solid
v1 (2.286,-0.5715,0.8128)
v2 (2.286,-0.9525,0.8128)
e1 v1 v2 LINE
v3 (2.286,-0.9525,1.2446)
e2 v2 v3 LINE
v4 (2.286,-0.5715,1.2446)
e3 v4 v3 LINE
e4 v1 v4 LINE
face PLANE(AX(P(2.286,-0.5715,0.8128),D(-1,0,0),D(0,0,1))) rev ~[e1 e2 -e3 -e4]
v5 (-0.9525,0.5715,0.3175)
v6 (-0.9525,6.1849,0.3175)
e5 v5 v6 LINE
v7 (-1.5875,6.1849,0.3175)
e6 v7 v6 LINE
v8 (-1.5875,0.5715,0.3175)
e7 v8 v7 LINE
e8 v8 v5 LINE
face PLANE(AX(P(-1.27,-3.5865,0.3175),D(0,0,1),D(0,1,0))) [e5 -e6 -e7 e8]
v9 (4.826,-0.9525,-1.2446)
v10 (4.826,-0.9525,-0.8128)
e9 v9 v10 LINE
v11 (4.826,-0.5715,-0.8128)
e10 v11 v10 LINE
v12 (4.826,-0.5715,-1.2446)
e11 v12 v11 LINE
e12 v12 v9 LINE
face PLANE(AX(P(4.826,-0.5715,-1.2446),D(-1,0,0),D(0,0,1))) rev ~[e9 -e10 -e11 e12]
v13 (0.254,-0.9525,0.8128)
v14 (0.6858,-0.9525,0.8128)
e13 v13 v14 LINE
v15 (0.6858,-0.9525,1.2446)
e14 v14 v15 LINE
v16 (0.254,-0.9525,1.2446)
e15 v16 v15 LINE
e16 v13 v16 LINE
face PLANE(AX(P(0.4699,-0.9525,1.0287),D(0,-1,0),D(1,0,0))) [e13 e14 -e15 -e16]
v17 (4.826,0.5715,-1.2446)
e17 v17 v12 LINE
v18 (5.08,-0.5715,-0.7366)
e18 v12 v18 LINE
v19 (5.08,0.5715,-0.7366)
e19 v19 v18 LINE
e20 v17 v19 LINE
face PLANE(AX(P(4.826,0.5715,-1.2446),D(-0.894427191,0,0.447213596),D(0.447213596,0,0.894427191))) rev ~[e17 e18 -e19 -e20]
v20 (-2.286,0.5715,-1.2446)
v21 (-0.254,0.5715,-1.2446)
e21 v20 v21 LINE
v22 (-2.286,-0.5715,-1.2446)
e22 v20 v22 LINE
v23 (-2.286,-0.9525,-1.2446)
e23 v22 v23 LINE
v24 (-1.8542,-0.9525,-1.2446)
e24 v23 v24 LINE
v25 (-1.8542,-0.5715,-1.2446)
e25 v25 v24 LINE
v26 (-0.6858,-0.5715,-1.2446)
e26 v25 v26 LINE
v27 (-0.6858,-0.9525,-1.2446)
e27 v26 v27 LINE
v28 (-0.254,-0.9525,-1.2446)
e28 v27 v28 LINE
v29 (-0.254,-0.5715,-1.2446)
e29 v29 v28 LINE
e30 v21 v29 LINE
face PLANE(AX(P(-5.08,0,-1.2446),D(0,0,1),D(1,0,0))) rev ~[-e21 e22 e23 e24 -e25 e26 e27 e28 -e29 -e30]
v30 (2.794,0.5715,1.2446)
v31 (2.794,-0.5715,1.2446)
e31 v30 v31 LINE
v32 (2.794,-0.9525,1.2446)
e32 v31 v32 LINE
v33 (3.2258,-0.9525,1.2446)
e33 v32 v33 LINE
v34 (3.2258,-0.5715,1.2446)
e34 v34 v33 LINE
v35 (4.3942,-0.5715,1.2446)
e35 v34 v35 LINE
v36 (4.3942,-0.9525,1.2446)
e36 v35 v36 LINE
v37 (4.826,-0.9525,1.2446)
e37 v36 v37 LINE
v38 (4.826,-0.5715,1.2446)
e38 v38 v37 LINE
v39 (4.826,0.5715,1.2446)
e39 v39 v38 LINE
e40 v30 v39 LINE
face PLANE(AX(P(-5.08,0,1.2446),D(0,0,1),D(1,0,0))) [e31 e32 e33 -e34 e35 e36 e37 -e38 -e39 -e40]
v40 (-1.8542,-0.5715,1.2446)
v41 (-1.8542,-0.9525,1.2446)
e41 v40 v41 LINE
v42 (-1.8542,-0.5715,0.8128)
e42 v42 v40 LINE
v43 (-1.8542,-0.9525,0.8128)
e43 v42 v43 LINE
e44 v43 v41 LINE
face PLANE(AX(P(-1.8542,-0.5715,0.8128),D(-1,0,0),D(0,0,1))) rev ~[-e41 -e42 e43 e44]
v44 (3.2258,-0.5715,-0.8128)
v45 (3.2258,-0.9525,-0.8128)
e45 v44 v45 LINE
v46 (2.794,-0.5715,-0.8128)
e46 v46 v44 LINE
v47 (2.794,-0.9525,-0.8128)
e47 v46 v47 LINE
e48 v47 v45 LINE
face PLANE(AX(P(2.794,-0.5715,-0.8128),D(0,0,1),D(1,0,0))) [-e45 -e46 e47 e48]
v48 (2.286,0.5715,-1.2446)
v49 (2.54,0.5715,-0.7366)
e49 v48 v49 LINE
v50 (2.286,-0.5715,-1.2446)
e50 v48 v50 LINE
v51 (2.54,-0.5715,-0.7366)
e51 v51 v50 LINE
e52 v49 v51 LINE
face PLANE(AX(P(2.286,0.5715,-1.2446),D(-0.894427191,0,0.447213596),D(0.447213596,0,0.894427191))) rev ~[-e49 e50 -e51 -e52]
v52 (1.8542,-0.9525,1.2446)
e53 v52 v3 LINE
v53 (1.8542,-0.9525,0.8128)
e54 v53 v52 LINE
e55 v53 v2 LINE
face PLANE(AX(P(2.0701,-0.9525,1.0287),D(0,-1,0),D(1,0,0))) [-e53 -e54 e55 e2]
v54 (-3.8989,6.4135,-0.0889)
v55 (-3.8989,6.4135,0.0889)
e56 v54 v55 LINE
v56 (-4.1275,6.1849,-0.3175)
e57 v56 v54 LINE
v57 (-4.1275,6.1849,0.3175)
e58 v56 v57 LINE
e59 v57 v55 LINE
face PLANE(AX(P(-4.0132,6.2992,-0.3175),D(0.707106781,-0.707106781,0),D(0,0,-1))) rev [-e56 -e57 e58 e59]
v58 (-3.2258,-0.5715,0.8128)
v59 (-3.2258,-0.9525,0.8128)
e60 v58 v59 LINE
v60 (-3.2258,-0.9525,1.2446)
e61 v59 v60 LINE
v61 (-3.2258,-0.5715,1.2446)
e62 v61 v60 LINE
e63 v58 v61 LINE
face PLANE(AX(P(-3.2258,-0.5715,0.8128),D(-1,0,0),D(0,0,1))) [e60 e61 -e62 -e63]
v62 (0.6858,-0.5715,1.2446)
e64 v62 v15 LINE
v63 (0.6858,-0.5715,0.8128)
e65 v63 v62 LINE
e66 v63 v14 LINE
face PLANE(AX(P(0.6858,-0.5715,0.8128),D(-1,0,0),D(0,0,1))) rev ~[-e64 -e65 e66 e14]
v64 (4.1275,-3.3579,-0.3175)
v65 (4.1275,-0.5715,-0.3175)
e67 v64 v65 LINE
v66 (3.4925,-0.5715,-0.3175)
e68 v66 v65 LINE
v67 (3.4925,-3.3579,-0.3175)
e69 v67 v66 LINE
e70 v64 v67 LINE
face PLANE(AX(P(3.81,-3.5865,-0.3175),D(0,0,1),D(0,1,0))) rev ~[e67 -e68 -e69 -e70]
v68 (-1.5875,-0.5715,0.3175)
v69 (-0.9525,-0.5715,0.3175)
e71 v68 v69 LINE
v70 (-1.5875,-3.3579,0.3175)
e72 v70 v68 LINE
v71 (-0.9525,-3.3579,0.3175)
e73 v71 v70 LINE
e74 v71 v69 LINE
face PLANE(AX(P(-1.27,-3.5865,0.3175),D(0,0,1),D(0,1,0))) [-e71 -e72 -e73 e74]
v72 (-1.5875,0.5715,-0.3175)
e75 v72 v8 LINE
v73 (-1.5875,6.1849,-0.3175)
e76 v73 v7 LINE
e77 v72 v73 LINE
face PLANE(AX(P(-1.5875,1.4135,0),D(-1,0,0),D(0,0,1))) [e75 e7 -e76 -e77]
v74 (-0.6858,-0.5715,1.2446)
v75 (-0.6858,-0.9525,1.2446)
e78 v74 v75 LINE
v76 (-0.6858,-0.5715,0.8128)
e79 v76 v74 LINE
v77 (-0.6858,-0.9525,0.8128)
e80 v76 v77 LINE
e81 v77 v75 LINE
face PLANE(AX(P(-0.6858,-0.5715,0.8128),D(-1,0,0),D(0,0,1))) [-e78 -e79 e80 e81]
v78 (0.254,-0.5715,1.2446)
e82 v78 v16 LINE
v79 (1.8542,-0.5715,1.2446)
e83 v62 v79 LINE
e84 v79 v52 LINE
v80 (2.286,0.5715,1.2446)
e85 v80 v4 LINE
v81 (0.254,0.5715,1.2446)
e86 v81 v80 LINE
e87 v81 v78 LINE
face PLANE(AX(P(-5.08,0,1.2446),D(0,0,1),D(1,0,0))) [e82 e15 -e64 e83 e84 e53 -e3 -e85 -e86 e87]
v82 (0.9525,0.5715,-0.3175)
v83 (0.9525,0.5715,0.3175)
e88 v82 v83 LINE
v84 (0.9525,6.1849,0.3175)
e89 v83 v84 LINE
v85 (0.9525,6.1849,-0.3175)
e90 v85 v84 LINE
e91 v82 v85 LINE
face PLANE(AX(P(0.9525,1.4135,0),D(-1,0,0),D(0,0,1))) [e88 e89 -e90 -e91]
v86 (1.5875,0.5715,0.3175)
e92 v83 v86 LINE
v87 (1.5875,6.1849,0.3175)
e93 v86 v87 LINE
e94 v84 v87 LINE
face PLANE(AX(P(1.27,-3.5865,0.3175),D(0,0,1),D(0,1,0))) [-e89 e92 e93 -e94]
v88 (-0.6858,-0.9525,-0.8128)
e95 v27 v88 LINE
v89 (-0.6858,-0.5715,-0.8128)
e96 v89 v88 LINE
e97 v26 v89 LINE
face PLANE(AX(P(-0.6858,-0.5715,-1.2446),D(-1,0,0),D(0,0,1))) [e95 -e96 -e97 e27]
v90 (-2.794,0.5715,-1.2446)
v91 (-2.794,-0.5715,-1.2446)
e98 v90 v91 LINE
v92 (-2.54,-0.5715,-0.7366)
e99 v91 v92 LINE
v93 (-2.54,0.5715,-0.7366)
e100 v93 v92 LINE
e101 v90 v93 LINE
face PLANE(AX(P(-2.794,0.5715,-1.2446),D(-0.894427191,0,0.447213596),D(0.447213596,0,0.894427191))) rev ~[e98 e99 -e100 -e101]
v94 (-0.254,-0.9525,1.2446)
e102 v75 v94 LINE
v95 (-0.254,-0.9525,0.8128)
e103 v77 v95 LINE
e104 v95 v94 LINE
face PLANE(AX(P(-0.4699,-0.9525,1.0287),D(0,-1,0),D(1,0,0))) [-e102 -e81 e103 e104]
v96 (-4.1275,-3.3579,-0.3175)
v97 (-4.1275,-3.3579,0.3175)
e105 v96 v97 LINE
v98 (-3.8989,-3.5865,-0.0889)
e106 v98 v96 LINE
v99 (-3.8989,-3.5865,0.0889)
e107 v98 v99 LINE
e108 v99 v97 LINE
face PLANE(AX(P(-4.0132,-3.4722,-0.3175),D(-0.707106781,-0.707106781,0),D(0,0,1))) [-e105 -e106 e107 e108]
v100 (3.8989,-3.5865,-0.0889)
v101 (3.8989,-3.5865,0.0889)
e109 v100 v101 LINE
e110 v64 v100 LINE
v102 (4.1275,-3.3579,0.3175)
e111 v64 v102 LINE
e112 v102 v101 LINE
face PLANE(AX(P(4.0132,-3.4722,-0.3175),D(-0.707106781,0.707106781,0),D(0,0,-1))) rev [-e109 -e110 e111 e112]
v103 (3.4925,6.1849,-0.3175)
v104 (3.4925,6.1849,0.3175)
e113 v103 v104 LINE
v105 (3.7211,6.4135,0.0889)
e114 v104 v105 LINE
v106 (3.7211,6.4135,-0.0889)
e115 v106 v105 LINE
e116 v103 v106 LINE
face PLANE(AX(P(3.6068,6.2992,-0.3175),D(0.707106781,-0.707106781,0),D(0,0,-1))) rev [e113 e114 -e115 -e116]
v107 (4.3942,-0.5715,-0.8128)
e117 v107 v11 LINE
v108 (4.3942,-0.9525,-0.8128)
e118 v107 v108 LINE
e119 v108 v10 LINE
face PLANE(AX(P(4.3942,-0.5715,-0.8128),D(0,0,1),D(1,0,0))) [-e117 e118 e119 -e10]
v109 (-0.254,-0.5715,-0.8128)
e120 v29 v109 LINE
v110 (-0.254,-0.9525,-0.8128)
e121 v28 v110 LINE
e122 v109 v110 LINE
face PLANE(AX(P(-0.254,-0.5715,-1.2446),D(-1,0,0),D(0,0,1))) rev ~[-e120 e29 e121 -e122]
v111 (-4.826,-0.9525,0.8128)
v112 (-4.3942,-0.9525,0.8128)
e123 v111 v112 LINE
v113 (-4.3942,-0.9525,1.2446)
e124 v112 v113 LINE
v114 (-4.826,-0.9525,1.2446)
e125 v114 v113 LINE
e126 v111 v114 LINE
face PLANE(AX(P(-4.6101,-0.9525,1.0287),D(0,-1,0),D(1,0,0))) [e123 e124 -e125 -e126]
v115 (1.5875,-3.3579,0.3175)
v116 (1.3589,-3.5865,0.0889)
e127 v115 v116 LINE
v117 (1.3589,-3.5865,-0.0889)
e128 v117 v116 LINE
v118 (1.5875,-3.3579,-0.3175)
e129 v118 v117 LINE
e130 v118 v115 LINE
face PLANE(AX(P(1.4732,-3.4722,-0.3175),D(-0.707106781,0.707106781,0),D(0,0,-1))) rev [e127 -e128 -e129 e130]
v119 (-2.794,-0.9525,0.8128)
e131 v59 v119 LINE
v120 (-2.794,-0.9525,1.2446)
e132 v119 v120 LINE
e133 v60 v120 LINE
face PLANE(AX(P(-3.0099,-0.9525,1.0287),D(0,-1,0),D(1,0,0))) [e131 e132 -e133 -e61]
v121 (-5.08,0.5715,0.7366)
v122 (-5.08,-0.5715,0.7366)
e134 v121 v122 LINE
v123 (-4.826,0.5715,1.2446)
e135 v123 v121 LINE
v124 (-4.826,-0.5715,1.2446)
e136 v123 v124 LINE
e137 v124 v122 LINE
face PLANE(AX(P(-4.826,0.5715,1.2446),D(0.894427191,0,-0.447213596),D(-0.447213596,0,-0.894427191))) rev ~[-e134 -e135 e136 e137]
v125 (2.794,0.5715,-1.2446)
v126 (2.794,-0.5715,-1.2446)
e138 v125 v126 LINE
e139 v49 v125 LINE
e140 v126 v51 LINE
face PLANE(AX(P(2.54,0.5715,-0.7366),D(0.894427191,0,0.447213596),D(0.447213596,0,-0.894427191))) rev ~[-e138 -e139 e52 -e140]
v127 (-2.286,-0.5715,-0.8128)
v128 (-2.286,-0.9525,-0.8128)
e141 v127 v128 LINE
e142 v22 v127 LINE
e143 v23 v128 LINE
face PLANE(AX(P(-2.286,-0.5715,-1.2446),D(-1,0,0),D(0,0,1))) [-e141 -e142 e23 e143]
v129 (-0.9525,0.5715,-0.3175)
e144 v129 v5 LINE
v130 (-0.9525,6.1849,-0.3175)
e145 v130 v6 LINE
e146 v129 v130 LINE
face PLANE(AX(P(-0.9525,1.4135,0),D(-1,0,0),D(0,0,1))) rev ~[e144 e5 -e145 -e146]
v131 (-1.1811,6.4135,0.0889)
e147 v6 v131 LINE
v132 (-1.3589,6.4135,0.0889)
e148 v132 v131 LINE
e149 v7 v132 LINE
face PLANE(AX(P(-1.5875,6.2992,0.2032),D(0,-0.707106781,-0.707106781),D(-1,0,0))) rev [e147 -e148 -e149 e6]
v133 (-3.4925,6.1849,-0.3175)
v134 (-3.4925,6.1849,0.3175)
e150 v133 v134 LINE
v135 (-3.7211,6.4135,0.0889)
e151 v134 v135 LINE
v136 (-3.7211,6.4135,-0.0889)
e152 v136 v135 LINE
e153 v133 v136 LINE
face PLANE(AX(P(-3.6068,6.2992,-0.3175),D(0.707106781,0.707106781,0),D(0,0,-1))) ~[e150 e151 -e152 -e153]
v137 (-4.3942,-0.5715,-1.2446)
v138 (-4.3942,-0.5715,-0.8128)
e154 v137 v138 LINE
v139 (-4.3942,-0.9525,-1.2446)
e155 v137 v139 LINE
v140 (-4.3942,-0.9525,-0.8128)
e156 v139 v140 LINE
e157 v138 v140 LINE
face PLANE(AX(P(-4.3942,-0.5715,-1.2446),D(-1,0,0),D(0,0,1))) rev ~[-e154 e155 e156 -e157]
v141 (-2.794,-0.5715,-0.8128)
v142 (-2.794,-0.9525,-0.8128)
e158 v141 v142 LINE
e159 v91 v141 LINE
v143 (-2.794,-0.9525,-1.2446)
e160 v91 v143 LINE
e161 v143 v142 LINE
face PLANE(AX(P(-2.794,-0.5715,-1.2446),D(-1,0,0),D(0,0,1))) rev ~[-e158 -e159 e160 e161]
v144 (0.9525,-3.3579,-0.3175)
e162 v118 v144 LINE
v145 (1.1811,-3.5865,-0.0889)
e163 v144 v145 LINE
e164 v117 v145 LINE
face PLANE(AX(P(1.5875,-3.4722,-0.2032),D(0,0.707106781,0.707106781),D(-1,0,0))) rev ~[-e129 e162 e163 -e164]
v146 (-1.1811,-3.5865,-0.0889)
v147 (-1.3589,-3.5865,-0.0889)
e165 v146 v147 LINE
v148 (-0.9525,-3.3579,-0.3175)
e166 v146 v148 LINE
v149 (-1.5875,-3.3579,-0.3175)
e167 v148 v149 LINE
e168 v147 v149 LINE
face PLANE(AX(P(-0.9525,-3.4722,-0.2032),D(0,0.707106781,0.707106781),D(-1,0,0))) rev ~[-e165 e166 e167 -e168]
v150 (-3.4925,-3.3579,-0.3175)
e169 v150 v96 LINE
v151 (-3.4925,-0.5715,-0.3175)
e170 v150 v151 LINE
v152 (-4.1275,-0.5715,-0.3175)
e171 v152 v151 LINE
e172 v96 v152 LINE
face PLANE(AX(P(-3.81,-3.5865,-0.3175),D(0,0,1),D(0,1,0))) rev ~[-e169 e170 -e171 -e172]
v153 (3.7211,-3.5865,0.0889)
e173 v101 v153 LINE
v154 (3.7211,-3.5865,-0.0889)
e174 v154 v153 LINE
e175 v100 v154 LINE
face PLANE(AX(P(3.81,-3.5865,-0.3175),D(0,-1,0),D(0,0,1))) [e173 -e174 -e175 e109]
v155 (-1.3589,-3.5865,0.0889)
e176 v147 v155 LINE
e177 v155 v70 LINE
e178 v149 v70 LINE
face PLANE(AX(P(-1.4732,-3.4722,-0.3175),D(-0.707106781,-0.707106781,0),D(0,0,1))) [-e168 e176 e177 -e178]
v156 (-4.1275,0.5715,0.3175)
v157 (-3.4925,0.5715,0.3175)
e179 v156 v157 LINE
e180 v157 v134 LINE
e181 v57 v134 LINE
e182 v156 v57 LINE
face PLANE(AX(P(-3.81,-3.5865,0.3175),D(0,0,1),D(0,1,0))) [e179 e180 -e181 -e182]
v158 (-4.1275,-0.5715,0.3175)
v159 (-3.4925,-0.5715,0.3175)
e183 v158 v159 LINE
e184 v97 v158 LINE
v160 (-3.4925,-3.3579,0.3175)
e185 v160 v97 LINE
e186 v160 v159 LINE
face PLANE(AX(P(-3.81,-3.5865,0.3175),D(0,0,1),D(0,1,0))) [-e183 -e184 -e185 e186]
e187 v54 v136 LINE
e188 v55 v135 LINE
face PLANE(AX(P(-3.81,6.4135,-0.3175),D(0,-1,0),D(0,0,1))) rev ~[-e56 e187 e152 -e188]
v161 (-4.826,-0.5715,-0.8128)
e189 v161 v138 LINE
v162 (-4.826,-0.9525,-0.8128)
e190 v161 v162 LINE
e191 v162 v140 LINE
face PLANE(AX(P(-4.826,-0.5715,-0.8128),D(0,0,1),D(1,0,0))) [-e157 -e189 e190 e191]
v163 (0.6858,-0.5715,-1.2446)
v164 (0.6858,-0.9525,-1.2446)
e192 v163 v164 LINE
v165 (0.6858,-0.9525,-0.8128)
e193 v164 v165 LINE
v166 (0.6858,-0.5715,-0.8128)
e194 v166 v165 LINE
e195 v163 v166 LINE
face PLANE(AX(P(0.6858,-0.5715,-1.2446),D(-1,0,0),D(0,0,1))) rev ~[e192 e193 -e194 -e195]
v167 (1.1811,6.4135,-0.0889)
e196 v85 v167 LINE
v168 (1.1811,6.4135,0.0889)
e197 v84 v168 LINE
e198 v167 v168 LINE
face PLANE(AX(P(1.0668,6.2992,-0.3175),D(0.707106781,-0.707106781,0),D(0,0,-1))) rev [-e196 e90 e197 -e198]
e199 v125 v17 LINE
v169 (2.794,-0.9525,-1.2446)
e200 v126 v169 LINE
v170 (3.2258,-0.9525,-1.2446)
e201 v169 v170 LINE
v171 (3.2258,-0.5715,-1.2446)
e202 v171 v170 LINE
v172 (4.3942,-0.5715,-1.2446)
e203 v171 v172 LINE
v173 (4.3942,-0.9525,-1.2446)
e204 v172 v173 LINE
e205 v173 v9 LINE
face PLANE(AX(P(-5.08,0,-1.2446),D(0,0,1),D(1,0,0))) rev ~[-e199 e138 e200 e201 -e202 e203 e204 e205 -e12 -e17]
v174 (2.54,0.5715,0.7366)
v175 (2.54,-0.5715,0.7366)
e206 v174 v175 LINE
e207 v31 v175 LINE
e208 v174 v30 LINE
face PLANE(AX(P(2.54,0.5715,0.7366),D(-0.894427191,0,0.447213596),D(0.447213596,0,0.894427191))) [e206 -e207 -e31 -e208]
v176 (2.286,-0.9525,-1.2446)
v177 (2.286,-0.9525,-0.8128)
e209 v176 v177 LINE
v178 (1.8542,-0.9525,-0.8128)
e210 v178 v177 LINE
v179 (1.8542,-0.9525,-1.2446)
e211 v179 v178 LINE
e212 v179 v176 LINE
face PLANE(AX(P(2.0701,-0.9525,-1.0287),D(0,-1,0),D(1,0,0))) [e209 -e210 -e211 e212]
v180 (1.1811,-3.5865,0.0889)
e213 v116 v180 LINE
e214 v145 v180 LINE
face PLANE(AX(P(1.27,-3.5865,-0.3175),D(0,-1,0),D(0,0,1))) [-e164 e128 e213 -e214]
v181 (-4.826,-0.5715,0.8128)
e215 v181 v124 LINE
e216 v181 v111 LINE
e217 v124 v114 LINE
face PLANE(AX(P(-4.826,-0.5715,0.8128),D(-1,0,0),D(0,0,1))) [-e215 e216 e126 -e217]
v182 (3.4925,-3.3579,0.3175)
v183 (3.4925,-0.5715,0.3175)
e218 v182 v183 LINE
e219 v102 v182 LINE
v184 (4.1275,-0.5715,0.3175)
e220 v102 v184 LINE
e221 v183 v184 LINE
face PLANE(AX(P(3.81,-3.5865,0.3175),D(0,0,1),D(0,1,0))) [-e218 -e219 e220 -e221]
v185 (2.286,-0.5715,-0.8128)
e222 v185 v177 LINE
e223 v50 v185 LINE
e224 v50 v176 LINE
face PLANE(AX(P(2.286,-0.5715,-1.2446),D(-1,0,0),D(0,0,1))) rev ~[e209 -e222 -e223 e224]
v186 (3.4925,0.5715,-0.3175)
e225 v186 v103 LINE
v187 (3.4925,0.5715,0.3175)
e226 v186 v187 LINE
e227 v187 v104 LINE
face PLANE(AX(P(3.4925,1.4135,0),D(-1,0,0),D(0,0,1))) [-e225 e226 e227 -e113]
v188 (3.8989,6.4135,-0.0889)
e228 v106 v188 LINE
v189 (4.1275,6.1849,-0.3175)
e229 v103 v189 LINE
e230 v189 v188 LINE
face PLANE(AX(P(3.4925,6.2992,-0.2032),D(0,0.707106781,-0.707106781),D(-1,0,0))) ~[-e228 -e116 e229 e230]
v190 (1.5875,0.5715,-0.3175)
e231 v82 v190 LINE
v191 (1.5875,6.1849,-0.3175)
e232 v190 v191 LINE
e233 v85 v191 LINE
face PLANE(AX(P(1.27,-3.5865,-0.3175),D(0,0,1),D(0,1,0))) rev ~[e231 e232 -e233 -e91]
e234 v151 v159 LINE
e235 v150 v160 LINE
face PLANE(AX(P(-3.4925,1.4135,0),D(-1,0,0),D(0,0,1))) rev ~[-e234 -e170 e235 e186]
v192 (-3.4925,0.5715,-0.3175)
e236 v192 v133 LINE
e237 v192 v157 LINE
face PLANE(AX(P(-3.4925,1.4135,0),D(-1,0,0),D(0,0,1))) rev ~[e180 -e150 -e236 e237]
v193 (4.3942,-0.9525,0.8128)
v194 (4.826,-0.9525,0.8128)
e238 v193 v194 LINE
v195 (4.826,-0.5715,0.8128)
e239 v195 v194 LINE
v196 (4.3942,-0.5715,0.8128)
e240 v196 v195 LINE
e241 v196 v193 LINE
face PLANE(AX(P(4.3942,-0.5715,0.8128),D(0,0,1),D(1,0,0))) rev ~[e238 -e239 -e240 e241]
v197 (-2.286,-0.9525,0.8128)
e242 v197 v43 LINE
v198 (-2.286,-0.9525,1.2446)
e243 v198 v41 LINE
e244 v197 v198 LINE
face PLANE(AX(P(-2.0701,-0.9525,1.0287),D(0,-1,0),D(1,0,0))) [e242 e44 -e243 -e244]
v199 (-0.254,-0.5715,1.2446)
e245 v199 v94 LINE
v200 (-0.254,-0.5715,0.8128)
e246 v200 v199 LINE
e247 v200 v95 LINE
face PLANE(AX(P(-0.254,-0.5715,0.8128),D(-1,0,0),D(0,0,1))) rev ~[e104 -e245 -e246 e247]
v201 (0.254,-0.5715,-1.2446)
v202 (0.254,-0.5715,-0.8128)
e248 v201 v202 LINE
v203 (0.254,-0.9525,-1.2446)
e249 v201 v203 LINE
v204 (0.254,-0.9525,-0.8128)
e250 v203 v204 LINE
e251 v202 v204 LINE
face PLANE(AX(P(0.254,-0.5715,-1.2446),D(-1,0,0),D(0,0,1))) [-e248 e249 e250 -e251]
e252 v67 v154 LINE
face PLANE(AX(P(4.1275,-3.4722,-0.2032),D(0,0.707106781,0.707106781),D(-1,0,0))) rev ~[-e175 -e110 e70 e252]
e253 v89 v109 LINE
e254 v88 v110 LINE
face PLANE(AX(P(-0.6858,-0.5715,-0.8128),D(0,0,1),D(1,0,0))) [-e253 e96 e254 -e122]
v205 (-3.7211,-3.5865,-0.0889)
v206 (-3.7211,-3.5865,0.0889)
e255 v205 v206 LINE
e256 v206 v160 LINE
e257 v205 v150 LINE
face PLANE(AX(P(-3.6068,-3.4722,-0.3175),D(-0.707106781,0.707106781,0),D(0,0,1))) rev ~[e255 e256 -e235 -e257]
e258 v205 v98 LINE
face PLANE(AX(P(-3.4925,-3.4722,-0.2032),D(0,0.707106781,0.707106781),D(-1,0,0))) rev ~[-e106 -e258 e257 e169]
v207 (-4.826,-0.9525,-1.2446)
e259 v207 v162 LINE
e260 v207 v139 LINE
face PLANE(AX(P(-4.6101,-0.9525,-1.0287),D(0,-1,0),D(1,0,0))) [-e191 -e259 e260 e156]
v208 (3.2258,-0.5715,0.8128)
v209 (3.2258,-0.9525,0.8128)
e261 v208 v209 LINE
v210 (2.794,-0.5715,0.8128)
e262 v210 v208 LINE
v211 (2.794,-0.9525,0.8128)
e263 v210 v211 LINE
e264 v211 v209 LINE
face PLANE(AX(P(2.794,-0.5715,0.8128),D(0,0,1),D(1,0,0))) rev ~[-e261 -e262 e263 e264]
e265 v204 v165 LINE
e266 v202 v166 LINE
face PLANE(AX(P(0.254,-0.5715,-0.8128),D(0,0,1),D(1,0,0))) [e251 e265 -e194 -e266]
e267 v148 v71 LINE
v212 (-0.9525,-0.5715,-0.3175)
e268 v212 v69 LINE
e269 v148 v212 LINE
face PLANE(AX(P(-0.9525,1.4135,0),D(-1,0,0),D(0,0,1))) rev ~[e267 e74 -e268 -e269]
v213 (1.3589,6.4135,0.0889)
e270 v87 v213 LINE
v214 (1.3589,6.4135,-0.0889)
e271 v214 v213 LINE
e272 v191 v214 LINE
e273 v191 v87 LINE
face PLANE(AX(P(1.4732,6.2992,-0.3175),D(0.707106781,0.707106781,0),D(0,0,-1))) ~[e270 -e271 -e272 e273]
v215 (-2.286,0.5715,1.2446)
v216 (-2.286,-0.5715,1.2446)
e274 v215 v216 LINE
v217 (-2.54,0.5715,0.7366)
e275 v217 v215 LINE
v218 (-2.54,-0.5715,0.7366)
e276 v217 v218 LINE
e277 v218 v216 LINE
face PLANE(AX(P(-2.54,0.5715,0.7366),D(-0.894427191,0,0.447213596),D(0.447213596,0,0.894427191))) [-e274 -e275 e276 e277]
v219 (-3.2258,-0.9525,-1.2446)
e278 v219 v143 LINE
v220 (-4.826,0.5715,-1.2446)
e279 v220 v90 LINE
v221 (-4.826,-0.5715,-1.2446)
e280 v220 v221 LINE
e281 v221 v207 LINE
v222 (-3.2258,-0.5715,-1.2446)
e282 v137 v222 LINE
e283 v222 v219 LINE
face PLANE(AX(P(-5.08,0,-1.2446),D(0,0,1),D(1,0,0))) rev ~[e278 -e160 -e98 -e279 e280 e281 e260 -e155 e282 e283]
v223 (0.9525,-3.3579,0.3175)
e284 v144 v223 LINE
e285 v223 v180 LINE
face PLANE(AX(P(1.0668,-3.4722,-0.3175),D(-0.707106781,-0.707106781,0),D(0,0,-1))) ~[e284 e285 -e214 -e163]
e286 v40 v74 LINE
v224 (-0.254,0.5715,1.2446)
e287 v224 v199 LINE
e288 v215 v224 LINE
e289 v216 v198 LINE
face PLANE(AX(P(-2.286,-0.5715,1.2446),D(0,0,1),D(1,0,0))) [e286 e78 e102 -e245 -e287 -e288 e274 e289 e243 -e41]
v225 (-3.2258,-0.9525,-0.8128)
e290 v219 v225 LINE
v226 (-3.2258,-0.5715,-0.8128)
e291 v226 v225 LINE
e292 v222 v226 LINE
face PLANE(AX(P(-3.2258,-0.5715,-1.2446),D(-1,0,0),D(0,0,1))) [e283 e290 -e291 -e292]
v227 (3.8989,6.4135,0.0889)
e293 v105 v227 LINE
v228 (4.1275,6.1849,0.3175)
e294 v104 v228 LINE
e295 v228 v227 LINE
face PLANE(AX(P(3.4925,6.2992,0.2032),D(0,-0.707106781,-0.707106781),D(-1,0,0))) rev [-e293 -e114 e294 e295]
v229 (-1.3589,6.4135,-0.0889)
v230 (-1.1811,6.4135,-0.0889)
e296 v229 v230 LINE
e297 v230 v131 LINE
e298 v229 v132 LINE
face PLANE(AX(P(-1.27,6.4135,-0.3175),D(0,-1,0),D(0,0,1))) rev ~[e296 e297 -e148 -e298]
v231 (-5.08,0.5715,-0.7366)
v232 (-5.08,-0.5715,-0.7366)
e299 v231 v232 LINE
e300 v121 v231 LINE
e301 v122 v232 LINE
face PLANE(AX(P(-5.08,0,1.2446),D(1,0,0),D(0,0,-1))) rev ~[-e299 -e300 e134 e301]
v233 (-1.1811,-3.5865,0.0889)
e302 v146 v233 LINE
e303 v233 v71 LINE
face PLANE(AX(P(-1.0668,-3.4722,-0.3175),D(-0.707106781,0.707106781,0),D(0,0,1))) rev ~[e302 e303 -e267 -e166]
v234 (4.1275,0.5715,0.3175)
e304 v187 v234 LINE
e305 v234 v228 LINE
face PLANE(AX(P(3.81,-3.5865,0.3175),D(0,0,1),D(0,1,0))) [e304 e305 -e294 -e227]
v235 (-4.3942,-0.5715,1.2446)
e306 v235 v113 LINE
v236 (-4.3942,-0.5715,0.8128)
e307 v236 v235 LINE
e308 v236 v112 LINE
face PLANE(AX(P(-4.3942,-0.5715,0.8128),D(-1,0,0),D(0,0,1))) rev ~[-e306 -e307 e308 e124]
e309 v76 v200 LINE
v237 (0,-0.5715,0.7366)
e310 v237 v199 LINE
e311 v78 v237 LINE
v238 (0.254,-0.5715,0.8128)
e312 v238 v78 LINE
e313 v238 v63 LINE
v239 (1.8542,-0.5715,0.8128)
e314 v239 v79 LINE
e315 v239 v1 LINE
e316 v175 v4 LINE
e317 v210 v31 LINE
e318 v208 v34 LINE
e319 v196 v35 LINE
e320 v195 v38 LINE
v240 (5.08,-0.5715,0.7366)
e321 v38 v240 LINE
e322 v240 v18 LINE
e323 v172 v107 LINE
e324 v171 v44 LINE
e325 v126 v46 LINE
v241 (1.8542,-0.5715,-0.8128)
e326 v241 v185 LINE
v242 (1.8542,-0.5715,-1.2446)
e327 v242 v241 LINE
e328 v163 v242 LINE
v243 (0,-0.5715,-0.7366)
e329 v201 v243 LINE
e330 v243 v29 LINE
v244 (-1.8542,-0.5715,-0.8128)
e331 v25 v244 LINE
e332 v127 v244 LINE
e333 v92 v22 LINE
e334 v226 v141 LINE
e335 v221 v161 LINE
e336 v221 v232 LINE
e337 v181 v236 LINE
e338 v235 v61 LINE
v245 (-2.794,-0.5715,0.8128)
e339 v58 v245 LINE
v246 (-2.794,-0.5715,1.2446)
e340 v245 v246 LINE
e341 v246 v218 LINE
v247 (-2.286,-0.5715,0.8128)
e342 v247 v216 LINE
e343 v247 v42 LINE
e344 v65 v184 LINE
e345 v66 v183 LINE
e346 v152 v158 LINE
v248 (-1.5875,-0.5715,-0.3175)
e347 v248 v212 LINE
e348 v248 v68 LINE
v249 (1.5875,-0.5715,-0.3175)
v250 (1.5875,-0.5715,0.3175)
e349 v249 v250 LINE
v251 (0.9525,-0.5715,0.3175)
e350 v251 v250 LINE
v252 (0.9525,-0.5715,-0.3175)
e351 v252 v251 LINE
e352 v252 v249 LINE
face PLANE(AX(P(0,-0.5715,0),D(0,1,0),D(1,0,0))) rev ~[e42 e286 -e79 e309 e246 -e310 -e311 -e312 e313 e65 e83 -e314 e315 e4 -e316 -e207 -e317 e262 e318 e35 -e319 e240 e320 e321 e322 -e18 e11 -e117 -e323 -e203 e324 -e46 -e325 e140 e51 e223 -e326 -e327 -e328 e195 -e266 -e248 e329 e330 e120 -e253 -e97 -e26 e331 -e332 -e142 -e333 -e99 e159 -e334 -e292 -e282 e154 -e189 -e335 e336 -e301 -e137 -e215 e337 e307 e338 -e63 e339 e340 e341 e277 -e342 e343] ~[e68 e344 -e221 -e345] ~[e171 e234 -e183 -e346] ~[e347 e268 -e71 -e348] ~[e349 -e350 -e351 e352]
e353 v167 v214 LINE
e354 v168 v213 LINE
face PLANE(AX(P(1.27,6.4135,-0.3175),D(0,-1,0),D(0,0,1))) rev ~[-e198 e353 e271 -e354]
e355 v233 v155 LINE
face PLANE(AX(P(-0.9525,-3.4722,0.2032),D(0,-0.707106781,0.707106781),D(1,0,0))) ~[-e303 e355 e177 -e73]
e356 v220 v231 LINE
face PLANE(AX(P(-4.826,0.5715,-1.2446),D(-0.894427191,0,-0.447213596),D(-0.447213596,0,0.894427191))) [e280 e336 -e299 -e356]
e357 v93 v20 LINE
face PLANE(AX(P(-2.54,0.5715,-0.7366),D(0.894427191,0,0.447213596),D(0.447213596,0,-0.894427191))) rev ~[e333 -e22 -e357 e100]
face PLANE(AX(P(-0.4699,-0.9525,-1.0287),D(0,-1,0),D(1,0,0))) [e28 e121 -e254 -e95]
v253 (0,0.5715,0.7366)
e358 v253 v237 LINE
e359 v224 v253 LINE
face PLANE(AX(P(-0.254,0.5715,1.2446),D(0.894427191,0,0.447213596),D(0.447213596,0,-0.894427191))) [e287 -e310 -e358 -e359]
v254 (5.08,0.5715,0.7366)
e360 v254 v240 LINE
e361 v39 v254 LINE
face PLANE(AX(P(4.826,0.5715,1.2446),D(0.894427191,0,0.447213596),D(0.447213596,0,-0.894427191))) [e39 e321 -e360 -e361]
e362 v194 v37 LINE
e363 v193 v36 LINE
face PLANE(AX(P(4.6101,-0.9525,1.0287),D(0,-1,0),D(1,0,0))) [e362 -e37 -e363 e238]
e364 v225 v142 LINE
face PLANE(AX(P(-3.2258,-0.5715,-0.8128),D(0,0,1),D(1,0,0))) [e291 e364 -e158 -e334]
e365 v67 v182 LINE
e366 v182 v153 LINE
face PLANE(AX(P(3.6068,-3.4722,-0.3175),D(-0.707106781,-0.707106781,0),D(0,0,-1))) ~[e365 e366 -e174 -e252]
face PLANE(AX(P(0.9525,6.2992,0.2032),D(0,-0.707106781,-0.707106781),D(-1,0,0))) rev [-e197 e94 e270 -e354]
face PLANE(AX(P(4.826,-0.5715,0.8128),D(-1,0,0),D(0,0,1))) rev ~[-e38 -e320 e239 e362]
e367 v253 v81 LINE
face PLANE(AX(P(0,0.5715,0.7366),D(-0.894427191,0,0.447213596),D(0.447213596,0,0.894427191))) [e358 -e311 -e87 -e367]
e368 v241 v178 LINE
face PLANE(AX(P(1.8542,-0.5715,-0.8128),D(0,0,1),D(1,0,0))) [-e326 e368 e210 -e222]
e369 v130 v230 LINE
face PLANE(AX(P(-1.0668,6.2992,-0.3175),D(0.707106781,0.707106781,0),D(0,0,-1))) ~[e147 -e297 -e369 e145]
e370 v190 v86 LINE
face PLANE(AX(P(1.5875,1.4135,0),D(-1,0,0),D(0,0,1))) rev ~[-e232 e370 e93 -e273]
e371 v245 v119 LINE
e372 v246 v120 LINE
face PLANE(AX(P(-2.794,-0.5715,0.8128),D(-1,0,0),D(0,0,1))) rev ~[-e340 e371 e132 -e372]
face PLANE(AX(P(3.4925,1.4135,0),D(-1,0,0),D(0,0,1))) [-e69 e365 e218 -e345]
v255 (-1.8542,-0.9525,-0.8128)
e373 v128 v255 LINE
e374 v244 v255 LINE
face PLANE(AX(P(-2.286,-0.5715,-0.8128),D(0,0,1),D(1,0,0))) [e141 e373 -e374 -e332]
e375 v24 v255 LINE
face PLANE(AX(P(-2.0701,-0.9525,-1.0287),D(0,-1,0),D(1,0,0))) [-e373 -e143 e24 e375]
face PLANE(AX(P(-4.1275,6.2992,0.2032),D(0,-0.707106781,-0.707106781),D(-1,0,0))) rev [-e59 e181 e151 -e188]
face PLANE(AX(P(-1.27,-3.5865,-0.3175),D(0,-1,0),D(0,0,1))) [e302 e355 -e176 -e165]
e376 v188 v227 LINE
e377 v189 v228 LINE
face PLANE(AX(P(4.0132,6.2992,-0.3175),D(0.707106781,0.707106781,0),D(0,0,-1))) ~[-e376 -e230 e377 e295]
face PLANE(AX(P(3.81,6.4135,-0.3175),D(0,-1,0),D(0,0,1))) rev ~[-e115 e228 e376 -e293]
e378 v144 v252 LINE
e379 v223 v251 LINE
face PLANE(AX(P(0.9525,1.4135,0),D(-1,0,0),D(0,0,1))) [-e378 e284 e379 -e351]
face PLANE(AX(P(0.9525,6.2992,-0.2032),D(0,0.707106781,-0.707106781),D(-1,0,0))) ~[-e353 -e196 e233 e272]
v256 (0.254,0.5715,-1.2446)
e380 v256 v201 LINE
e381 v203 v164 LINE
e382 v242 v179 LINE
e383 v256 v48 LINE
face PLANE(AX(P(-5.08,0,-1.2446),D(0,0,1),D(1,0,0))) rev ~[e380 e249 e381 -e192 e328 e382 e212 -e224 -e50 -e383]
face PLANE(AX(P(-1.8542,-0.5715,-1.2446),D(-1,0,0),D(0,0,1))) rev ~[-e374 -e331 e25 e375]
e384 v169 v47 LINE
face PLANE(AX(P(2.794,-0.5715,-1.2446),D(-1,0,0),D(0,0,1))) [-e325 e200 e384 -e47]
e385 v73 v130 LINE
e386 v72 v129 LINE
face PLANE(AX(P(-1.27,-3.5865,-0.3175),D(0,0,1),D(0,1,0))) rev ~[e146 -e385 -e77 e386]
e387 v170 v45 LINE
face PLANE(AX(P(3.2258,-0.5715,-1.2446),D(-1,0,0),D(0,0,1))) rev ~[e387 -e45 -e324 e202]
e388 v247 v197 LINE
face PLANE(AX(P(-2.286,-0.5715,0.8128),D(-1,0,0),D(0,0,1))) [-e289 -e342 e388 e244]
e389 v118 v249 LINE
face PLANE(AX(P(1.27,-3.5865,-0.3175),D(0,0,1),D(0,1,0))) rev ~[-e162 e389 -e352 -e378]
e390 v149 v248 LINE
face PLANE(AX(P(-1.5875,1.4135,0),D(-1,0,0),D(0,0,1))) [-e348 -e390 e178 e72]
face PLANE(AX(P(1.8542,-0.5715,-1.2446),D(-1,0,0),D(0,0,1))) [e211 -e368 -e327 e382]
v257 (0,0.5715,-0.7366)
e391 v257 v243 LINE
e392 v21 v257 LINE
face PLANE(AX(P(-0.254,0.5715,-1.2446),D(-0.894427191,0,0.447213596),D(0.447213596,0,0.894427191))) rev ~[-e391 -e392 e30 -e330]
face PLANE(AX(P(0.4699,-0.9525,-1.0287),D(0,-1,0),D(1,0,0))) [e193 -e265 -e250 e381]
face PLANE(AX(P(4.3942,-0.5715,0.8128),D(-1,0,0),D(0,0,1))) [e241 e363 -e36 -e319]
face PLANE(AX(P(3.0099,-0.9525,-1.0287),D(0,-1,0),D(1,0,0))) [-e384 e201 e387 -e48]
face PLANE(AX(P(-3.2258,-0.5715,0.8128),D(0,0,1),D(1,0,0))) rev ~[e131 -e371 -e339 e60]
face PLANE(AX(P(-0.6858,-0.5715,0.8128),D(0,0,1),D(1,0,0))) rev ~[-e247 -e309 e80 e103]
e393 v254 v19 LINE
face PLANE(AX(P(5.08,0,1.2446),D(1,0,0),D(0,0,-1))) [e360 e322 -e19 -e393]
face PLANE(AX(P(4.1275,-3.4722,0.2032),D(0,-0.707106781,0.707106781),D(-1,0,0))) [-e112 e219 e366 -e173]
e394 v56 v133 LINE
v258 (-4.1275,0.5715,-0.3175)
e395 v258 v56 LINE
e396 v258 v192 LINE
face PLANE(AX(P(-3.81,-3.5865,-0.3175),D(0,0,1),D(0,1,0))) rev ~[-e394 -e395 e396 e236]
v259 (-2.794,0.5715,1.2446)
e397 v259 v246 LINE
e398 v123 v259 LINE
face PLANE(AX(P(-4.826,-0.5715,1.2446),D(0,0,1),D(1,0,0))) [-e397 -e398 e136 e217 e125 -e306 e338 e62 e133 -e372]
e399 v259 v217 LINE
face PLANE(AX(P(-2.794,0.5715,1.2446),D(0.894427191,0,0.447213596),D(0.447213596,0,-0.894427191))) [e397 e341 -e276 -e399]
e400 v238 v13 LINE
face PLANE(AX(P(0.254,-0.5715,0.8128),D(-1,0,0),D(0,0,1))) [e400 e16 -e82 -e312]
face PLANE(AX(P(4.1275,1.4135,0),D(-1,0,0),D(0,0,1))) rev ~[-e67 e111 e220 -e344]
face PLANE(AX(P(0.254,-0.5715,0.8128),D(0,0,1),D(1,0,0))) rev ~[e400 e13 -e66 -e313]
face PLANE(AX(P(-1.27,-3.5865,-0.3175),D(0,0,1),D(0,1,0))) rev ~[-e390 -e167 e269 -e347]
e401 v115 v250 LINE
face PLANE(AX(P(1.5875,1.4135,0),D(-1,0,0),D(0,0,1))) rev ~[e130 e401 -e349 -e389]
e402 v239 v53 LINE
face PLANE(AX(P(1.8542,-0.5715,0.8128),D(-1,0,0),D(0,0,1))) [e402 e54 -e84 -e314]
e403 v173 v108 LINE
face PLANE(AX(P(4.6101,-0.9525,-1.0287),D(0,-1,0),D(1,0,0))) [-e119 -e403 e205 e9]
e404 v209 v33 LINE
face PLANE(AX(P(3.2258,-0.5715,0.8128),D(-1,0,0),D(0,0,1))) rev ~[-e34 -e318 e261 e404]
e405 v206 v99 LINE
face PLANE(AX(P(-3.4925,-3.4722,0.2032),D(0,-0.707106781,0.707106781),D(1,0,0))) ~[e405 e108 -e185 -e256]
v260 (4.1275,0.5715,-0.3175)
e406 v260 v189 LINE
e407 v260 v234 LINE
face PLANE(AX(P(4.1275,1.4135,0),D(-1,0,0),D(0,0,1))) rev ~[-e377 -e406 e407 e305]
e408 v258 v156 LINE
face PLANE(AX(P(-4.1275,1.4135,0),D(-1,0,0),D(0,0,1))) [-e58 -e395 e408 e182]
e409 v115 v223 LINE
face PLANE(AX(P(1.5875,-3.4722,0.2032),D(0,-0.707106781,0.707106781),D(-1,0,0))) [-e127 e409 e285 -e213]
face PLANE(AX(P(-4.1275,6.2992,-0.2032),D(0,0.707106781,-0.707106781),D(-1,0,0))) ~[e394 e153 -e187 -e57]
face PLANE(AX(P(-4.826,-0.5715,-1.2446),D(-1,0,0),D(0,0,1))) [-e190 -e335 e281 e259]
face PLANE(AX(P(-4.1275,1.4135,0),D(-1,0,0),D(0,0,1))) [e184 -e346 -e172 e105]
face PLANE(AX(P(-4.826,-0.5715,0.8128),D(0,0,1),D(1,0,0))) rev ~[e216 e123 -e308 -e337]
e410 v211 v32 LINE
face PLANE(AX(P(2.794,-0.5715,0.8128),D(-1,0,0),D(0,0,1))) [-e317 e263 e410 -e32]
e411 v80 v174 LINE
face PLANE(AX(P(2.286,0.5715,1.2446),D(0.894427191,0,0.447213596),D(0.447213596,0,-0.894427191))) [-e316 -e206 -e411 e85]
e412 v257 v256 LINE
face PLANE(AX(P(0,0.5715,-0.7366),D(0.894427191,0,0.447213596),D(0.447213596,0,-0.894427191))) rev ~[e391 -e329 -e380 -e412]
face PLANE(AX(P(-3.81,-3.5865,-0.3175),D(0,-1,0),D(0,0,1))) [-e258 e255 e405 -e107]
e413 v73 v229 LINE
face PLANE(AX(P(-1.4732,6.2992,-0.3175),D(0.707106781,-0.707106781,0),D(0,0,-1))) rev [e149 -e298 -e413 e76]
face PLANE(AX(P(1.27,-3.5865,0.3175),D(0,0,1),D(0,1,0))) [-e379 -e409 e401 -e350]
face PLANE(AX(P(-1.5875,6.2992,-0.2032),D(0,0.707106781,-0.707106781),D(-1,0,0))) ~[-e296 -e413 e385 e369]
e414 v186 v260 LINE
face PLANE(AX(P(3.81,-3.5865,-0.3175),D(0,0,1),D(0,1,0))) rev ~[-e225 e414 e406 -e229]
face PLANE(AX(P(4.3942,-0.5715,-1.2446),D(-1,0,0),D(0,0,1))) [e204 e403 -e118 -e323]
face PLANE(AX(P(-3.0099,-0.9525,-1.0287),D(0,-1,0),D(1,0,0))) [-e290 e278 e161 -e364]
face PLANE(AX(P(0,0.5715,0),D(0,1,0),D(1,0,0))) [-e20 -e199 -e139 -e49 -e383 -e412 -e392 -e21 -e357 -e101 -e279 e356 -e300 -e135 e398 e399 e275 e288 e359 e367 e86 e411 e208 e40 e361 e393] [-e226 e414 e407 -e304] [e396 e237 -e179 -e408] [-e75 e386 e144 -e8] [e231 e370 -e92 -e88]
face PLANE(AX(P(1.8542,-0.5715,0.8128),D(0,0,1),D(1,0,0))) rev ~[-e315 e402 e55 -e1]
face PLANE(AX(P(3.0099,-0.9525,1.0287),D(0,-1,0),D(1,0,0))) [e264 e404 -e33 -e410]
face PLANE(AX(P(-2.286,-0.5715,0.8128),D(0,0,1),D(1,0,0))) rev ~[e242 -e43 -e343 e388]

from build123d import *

# Parameters (mm, degrees)
SKETCH1_W                        = 10.16
SKETCH1_H                        = 2.4892
BASE_EXTRUDE_DEPTH               = 0.5715
SNAP_GROOVES_DEPTH               = 2.143
SKETCH4_W                        = 0.4318
SKETCH4_H                        = 0.4318
STANDOFFS_DEPTH                  = 0.381
POSITION_PATTERN_COUNT           = 4
POSITION_PATTERN_PITCH           = 2.54
SKETCH5_W                        = 0.635
SKETCH5_H                        = 10
TERMINAL_TH_DEPTH                = 0.3175
T1_TIP1_SIZE                     = 0.2286
TERMINAL_PATTERN_COUNT           = 4
TERMINAL_PATTERN_PITCH           = 2.54
T1_TIP1_OF_TERMINAL_PATTERN_SIZE = 0.2286


with BuildPart() as part:
    # Sketch1 → Base-Extrude (new body, symmetric)
    with BuildSketch(Plane(origin=(0, 0, 0), x_dir=(1, 0, 0), z_dir=(0, 1, 0))):
        Rectangle(SKETCH1_W, SKETCH1_H)
    extrude(amount=BASE_EXTRUDE_DEPTH, both=True)

    # Sketch3 → Snap Grooves (cut, through all)
    with BuildSketch(Plane(origin=(0, 0.5715, 0), x_dir=(-1, 0, 0), z_dir=(0, 1, 0))):
        Polygon((2.286, 1.2446), (2.794, 1.2446), (2.54, 0.7366), align=None)
        Polygon((2.286, -1.2446), (2.794, -1.2446), (2.54, -0.7366), align=None)
        Polygon((5.08, -0.7366), (5.334, -1.2446), (4.826, -1.2446), align=None)
        Polygon((5.08, 0.7366), (5.334, 1.2446), (4.826, 1.2446), align=None)
    snap_grooves = extrude(amount=-SNAP_GROOVES_DEPTH, mode=Mode.SUBTRACT)

    # Sketch4 → Standoffs (add)
    with BuildSketch(Plane.XZ.offset(0.5715)):
        with Locations((-4.6101, 1.0287)):
            Rectangle(SKETCH4_W, SKETCH4_H)
        with Locations((-3.0099, 1.0287)):
            Rectangle(SKETCH4_W, SKETCH4_H)
        with Locations((-3.0099, -1.0287)):
            Rectangle(SKETCH4_W, SKETCH4_H)
        with Locations((-4.6101, -1.0287)):
            Rectangle(SKETCH4_W, SKETCH4_H)
    standoffs = extrude(amount=STANDOFFS_DEPTH)

    # Position Pattern: Snap Grooves, Standoffs ×4
    with Locations(*[(i * POSITION_PATTERN_PITCH, 0, 0) for i in range(1, POSITION_PATTERN_COUNT)]):
        add(snap_grooves, mode=Mode.SUBTRACT)
        add(standoffs)

    # Sketch5 → Terminal -TH (add, symmetric)
    with BuildSketch(Plane.ZY.offset(3.81)):
        with Locations((0, 1.4135)):
            Rectangle(SKETCH5_W, SKETCH5_H)
    terminal_th = extrude(amount=TERMINAL_TH_DEPTH, both=True)

    # T1 Tip1
    t1_tip1_edges = [part.edges().sort_by_distance(p)[0] for p in [
        (-3.81, -3.5865, 0.3175),
        (-4.1275, -3.5865, 0),
        (-3.81, 6.4135, -0.3175),
        (-3.4925, -3.5865, 0),
        (-3.81, -3.5865, -0.3175),
        (-3.4925, 6.4135, 0),
        (-3.81, 6.4135, 0.3175),
        (-4.1275, 6.4135, 0),
    ]]
    chamfer(t1_tip1_edges, length=T1_TIP1_SIZE)

    # Terminal Pattern: Terminal -TH ×4
    with Locations(*[(i * TERMINAL_PATTERN_PITCH, 0, 0) for i in range(1, TERMINAL_PATTERN_COUNT)]):
        add(terminal_th)

    # T1 Tip1 of Terminal Pattern
    t1_tip1_of_terminal_pattern_edges = [part.edges().sort_by_distance(p)[0] for p in [
        (-1.27, -3.5865, 0.3175),
        (-1.5875, -3.5865, 0),
        (-1.27, 6.4135, -0.3175),
        (-0.9525, -3.5865, 0),
        (-1.27, -3.5865, -0.3175),
        (-0.9525, 6.4135, 0),
        (-1.27, 6.4135, 0.3175),
        (-1.5875, 6.4135, 0),
        (1.27, -3.5865, 0.3175),
        (0.9525, -3.5865, 0),
        (1.27, 6.4135, -0.3175),
        (1.5875, -3.5865, 0),
        (1.27, -3.5865, -0.3175),
        (1.5875, 6.4135, 0),
        (1.27, 6.4135, 0.3175),
        (0.9525, 6.4135, 0),
        (3.81, -3.5865, 0.3175),
        (3.4925, -3.5865, 0),
        (3.81, 6.4135, -0.3175),
        (4.1275, -3.5865, 0),
        (3.81, -3.5865, -0.3175),
        (4.1275, 6.4135, 0),
        (3.81, 6.4135, 0.3175),
        (3.4925, 6.4135, 0),
    ]]
    chamfer(t1_tip1_of_terminal_pattern_edges, length=T1_TIP1_OF_TERMINAL_PATTERN_SIZE)


solid = part.part
